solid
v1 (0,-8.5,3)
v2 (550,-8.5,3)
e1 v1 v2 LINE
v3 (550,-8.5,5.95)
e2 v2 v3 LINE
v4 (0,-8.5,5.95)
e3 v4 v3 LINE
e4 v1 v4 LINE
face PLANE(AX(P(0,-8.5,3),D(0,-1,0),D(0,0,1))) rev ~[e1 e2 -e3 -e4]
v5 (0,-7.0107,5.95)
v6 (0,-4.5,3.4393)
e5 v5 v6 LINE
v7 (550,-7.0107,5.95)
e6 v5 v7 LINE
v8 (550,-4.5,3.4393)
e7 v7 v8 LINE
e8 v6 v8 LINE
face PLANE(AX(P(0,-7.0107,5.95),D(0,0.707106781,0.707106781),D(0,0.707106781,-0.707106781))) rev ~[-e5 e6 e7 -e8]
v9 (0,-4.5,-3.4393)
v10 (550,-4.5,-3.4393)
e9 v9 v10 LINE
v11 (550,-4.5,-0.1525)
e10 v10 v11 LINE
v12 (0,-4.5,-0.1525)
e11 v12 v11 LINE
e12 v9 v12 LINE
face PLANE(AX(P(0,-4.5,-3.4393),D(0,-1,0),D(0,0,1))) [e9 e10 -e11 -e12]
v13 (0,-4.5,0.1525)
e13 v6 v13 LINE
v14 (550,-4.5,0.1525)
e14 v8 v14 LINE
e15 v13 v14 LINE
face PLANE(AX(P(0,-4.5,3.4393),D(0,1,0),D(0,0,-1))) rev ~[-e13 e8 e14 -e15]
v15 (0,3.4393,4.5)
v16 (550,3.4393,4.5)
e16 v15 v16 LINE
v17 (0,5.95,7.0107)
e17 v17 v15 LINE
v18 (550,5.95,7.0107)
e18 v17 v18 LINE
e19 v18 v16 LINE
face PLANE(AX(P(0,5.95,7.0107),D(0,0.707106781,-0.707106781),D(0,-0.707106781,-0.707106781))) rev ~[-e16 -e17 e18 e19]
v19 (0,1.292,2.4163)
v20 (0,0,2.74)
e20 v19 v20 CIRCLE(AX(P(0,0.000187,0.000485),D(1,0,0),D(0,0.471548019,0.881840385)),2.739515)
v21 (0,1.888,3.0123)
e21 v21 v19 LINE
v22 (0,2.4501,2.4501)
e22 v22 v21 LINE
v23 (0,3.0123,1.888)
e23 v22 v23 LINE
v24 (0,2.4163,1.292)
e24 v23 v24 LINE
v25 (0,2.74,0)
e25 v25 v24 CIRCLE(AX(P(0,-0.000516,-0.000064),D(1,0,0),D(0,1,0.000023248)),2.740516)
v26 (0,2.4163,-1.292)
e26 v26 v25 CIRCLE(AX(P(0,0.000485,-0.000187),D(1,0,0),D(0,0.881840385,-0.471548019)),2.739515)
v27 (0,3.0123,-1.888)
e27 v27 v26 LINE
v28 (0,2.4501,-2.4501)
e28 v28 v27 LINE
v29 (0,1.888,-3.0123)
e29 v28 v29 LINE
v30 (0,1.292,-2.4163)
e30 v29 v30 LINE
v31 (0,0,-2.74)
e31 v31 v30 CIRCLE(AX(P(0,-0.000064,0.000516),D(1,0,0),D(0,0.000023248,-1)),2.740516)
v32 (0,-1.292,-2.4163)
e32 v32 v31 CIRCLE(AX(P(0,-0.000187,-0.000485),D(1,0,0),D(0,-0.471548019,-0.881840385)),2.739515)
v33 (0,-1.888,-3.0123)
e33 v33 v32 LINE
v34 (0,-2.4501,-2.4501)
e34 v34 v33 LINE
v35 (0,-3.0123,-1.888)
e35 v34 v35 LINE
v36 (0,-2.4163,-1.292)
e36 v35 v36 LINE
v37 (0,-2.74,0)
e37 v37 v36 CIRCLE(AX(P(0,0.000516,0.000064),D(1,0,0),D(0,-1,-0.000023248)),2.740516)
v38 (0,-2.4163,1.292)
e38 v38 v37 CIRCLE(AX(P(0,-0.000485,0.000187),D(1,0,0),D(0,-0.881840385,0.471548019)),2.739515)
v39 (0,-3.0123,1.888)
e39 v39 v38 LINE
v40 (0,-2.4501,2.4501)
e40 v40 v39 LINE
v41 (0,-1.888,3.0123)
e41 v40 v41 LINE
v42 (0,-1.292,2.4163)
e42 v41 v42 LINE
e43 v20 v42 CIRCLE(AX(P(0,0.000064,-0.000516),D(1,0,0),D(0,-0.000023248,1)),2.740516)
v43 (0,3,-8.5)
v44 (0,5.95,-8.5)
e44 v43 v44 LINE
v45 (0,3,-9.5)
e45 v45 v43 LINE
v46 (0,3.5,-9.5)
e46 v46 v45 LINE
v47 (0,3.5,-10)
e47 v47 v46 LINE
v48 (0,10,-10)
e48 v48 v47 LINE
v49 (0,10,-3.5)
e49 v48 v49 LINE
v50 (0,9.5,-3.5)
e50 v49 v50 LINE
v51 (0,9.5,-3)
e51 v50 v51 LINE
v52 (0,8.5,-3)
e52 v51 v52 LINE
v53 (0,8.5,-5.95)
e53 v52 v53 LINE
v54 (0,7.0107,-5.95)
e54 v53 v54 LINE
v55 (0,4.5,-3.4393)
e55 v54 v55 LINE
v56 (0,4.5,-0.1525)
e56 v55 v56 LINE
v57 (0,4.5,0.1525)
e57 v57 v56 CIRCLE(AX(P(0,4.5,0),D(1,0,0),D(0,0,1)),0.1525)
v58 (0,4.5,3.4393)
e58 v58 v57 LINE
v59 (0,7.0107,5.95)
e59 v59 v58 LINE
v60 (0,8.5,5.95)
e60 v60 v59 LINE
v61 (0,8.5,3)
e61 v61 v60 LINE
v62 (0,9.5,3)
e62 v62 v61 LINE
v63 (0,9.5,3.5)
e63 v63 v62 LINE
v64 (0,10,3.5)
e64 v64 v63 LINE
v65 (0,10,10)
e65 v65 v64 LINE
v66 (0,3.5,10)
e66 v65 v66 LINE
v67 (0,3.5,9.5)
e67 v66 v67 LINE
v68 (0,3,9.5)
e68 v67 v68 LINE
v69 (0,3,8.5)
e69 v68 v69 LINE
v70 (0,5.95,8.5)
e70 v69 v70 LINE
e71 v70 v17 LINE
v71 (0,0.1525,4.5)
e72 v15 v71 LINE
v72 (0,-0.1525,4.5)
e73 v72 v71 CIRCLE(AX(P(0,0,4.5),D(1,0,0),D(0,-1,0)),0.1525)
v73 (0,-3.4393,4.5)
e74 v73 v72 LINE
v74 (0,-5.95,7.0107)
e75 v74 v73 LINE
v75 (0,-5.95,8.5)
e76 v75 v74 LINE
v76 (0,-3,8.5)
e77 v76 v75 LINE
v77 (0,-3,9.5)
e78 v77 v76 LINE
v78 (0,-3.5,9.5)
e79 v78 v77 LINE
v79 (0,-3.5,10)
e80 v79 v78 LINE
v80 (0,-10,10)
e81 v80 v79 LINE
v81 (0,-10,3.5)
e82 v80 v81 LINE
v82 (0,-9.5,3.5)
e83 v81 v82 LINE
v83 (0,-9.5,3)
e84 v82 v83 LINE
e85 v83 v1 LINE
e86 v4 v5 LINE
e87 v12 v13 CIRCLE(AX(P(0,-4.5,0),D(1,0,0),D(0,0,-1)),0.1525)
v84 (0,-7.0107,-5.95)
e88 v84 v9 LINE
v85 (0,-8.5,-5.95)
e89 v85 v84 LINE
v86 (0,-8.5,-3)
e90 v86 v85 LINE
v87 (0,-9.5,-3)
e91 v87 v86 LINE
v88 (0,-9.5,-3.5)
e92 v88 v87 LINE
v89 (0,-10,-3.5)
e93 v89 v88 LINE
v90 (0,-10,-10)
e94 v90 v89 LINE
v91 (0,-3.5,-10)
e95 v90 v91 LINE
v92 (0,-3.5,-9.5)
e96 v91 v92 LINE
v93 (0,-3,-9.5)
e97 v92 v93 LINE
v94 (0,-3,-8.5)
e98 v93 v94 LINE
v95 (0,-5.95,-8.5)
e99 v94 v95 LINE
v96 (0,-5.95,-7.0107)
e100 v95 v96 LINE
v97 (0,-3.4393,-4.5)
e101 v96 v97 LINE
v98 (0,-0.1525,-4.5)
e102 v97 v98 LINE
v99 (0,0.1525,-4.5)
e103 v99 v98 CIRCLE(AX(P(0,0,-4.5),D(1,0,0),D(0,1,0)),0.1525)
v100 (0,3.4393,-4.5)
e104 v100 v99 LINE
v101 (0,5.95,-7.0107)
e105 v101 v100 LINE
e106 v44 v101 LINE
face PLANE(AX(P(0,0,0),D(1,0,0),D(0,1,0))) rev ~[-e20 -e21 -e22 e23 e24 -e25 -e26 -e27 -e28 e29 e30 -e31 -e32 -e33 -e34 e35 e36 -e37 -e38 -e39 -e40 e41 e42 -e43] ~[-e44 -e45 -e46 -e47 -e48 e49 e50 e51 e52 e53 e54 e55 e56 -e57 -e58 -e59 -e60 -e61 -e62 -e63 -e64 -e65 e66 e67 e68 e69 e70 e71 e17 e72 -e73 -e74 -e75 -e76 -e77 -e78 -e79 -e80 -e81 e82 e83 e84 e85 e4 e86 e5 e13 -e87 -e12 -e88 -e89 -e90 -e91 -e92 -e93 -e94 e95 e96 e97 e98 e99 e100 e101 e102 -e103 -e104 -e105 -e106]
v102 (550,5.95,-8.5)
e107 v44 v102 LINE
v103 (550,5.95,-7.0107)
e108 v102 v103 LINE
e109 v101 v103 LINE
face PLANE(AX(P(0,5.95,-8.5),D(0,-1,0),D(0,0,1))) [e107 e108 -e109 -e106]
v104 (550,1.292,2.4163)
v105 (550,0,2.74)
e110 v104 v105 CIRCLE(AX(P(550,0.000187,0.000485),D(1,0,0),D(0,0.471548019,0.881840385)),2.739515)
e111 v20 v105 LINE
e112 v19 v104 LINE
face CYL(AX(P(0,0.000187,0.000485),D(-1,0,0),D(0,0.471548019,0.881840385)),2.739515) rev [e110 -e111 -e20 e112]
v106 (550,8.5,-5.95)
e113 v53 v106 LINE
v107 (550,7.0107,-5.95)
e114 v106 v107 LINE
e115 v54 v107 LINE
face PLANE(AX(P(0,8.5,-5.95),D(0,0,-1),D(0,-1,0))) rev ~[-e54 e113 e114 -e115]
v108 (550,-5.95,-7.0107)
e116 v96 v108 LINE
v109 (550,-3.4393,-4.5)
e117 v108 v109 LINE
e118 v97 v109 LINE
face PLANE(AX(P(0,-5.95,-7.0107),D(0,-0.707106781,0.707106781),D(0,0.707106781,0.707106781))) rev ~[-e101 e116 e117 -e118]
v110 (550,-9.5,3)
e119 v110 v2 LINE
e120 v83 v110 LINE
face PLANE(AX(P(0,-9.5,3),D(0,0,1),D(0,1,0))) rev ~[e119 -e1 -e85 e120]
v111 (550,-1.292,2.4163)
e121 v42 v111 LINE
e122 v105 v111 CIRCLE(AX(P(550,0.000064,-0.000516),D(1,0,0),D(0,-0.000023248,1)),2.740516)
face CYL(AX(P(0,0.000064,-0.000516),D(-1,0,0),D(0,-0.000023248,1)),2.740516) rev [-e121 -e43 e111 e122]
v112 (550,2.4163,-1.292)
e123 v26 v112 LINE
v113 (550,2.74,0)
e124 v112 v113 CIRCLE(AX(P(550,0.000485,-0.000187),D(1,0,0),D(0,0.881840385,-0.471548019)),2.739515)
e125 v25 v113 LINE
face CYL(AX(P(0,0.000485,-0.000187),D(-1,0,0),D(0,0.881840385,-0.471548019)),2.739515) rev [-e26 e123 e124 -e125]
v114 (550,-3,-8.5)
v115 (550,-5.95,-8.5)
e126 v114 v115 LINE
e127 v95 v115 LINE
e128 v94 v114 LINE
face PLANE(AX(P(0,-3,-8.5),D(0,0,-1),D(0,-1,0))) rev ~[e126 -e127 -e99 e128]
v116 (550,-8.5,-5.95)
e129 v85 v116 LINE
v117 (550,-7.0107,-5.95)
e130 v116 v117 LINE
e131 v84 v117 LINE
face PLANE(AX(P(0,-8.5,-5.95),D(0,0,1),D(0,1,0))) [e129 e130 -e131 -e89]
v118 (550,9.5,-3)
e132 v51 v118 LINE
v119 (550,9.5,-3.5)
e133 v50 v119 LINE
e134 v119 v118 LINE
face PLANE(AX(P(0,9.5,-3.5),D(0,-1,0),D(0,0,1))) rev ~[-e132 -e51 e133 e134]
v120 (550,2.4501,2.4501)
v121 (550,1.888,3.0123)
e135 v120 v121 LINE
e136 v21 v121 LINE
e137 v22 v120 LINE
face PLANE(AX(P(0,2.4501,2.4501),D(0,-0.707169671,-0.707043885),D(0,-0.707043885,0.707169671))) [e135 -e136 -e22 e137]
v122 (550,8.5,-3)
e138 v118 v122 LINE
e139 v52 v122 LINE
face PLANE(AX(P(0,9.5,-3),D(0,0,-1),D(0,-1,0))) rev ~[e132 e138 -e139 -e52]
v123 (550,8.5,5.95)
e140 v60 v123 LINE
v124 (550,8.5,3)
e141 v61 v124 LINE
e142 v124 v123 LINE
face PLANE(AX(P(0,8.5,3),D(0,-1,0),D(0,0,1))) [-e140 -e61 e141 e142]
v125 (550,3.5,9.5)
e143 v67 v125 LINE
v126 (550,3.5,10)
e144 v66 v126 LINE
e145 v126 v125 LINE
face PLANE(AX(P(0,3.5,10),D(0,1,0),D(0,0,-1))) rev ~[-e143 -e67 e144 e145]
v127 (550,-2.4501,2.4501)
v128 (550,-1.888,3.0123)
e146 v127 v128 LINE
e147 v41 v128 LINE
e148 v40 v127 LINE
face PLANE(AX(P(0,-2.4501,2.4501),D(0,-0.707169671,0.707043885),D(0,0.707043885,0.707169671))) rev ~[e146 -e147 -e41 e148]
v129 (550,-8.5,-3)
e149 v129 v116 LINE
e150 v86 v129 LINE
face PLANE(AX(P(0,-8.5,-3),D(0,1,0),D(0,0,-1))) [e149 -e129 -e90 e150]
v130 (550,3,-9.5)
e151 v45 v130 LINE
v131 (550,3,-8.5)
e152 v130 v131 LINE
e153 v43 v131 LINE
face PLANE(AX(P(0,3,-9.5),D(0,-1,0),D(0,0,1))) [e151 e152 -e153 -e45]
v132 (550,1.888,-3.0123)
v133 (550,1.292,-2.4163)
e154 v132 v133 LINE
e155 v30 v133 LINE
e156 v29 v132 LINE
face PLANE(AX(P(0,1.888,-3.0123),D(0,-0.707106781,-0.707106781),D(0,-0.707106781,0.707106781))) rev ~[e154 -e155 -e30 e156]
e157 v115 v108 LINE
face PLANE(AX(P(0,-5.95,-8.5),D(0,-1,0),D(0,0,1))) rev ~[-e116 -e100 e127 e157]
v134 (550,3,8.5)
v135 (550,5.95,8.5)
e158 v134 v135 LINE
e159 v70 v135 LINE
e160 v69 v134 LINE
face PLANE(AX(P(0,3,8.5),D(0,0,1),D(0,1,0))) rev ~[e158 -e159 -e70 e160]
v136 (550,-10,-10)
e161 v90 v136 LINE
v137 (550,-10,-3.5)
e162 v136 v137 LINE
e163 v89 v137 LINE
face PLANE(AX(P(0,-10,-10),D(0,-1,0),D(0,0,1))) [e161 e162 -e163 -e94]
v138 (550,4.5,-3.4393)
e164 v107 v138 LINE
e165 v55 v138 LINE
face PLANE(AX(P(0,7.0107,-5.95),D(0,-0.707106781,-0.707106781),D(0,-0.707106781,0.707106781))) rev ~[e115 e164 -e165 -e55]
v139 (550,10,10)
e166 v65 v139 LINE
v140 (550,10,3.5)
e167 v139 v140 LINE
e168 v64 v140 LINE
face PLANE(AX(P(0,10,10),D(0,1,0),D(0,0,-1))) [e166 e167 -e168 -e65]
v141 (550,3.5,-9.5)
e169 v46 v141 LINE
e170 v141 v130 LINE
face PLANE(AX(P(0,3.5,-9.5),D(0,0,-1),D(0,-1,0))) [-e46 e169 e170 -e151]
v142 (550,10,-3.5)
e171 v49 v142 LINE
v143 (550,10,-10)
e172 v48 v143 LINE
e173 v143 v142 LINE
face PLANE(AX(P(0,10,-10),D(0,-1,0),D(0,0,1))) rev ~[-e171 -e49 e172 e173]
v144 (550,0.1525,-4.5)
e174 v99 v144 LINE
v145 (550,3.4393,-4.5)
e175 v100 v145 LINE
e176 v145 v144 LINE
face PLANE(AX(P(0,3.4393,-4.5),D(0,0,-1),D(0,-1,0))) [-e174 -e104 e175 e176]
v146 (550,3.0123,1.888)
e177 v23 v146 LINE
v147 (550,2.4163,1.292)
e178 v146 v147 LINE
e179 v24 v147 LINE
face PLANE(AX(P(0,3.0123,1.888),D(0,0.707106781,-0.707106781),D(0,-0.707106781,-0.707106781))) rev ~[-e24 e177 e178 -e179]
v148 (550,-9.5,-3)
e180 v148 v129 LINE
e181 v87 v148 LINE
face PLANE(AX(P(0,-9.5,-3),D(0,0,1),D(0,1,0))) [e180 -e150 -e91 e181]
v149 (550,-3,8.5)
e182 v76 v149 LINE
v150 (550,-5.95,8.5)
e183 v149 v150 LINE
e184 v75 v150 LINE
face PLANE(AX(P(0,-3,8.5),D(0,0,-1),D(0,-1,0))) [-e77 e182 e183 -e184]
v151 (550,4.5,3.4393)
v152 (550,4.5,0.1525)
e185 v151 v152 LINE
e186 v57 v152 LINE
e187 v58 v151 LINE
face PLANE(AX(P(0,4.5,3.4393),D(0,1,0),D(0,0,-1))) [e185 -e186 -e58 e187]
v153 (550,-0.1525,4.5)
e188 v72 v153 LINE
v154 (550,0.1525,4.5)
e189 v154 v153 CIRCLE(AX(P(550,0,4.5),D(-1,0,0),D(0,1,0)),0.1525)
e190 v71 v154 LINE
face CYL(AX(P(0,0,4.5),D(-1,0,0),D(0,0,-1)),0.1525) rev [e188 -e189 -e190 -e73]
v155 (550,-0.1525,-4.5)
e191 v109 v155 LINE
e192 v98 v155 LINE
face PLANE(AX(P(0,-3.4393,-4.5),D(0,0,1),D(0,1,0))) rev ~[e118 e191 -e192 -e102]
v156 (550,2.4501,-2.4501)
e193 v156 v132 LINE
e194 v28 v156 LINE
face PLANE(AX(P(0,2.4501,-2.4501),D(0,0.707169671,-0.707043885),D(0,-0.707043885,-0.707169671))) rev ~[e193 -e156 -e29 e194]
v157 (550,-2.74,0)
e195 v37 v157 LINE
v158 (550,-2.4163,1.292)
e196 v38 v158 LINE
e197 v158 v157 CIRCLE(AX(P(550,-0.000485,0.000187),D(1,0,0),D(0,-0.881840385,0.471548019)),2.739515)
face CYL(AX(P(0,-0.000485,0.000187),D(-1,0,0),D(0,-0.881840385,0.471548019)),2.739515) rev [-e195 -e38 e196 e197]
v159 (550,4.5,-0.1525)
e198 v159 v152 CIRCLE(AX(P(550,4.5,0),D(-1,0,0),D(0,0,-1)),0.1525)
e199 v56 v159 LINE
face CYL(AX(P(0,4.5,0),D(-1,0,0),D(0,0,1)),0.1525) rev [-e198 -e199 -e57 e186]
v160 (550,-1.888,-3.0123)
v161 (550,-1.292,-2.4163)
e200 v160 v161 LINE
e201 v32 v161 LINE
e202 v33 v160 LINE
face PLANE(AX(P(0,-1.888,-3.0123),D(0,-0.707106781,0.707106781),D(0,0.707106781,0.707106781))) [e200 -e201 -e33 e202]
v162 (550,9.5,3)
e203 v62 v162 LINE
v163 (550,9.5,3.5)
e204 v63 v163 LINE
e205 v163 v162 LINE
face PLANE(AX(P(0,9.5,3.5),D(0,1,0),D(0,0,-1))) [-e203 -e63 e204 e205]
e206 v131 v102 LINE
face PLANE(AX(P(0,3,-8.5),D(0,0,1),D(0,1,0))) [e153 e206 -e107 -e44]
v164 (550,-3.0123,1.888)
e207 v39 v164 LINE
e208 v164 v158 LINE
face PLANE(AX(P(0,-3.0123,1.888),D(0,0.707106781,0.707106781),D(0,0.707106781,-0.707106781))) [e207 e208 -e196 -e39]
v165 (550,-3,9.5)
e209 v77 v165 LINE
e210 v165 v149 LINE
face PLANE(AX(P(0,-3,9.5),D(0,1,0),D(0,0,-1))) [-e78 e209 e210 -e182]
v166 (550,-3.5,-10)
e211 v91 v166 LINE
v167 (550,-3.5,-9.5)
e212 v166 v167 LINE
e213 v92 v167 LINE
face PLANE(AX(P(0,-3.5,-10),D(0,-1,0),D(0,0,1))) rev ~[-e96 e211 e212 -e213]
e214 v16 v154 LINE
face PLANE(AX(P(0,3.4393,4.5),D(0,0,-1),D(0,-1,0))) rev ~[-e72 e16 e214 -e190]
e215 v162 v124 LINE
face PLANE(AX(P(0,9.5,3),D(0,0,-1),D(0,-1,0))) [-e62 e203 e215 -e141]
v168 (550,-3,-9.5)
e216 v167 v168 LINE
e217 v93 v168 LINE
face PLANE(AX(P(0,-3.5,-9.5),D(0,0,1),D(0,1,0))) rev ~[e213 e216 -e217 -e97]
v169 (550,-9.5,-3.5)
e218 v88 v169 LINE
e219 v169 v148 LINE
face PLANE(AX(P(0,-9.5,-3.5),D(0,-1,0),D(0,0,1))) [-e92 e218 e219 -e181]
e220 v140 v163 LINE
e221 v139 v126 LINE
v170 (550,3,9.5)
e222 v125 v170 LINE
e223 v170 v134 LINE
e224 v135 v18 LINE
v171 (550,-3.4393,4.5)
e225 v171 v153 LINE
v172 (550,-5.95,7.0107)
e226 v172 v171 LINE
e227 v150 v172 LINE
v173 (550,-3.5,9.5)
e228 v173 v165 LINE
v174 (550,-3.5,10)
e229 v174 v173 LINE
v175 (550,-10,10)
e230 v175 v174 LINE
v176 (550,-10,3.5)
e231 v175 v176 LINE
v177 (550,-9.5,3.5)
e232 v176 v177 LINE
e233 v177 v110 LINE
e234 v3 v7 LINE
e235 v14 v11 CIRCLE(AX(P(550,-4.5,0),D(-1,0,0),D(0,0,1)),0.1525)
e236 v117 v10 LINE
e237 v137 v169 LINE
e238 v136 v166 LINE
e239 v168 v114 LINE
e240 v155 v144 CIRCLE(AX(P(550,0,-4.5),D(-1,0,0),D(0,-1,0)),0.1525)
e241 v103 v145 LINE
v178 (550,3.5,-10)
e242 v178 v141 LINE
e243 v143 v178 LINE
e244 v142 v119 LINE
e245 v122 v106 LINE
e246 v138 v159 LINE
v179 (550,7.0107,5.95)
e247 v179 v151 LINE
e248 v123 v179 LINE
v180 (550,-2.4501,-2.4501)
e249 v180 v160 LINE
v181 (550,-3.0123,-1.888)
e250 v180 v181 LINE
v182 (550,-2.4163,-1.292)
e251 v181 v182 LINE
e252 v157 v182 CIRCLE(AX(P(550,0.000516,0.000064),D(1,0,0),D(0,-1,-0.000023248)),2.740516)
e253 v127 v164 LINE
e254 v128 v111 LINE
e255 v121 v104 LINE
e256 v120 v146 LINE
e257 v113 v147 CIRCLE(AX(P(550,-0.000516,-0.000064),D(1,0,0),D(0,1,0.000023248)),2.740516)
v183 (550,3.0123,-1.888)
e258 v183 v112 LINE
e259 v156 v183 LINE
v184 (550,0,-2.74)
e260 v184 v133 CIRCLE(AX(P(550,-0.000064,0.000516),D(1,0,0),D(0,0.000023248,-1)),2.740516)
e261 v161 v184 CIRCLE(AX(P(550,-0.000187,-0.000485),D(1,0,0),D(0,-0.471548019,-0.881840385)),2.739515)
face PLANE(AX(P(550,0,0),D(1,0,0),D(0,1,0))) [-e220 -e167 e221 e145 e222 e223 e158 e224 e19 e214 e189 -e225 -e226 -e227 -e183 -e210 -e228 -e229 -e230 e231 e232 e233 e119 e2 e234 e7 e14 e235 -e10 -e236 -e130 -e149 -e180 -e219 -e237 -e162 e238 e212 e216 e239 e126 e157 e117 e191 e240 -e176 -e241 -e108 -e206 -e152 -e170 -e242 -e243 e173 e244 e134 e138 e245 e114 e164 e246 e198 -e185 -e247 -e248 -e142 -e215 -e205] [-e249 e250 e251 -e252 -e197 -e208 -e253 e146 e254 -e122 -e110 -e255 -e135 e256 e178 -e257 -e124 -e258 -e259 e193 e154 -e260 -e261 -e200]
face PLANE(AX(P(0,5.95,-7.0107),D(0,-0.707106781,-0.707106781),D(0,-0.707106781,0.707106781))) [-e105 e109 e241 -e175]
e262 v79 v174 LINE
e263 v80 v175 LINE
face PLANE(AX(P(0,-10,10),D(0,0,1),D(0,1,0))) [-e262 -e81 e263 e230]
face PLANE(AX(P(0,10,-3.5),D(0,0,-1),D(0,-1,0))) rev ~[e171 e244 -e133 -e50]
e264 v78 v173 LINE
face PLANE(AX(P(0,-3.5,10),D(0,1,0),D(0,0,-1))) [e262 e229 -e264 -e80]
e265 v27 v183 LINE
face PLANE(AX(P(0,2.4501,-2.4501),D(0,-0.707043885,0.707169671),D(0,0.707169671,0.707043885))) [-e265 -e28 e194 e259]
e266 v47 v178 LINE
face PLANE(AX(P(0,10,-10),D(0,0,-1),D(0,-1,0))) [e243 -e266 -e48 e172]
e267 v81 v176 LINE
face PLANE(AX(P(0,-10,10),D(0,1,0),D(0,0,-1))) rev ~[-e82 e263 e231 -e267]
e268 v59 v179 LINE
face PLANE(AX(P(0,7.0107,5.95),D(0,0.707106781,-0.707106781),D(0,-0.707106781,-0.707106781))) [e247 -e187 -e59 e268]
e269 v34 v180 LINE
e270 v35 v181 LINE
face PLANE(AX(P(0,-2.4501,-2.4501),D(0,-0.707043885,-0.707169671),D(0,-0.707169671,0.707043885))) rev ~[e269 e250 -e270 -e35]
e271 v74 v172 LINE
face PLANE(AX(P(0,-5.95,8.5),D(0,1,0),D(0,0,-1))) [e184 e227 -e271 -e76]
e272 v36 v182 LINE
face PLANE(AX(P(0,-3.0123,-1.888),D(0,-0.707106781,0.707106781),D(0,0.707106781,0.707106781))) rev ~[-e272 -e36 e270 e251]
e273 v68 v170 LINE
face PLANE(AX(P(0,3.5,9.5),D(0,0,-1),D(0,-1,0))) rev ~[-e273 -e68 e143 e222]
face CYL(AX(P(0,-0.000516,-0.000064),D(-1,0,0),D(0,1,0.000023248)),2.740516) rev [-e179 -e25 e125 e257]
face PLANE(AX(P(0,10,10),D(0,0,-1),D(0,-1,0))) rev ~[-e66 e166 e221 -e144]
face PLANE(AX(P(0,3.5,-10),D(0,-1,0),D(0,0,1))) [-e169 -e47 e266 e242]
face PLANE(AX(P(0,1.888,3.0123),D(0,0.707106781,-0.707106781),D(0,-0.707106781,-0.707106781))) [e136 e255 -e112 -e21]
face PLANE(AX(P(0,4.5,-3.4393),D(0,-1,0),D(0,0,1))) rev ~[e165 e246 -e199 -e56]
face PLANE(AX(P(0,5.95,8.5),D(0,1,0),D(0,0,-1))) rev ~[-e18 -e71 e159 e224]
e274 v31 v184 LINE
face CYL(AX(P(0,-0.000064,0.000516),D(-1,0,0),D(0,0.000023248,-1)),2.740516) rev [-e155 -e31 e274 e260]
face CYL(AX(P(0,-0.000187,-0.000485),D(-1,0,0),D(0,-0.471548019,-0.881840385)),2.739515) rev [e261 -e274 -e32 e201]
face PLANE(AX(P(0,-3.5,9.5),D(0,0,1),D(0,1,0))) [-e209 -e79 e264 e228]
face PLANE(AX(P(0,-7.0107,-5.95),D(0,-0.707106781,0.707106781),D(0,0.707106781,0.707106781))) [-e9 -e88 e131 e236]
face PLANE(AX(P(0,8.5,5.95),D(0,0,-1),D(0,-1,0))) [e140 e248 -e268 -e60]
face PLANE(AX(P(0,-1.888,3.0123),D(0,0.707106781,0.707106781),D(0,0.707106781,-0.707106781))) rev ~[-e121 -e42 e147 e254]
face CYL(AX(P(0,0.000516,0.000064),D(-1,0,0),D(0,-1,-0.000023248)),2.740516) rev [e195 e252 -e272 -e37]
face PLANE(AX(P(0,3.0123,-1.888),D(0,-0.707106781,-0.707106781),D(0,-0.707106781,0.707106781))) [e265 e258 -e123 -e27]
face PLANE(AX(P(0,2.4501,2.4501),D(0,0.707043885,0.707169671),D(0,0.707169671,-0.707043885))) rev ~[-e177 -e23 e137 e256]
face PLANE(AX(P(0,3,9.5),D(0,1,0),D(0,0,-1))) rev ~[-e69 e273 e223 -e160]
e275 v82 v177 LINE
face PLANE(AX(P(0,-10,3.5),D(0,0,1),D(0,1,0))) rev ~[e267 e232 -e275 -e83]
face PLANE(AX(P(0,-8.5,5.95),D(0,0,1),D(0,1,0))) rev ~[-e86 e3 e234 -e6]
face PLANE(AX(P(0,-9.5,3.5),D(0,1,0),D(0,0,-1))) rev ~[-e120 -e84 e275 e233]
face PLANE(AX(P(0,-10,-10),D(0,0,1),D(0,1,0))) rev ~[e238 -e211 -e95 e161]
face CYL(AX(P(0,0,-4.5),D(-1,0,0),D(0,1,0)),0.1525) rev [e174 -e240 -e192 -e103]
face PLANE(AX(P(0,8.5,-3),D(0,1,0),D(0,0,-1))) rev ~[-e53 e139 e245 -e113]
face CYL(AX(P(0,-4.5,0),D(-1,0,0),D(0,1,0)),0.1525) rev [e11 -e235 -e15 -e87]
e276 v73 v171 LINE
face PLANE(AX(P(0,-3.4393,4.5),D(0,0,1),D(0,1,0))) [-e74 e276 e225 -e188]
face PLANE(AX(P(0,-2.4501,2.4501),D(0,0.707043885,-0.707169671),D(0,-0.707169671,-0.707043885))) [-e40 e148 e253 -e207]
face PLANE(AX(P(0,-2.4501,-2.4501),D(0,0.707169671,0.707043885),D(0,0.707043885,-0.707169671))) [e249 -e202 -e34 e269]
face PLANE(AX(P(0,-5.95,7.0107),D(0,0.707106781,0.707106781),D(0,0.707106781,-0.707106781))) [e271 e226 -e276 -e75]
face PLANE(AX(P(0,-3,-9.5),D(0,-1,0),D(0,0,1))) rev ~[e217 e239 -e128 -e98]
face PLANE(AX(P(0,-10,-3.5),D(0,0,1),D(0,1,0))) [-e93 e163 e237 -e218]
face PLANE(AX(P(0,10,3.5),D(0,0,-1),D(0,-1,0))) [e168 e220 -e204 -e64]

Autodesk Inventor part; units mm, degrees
ref_plane "YZ Plane" through (0, 0, 0) normal (1, 0, 0) x (0, 1, 0)
ref_plane "XZ Plane" through (0, 0, 0) normal (0, 1, 0) x (-1, 0, 0)
ref_plane "XY Plane" through (0, 0, 0) normal (0, 0, 1) x (1, 0, 0)
sketch "Sketch1" plane through (0, 0, 0) normal (1, 0, 0) x (0, 1, 0)
  line L0 (-10, -10) -> (10, 10) construction
  line L1 (10, 10) -> (10, 3.5)
  line L2 (10, 3.5) -> (9.5, 3.5)
  line L3 (9.5, 3.5) -> (9.5, 3)
  line L4 (9.5, 3) -> (8.5, 3)
  line L5 (8.5, 3) -> (8.5, 5.95)
  line L6 (8.5, 5.95) -> (7.0107, 5.95)
  line L7 (7.0107, 5.95) -> (4.5, 3.4393)
  line L8 (4.5, 3.4393) -> (4.5, 0.1525)
  line L9 (2.4501, 2.4501) -> (3.0123, 1.888)
  line L10 (3.0123, 1.888) -> (2.4163, 1.292)
  arc A0 (2.74, 0) -> (2.4163, 1.292) centre (0, 0) ccw
  arc A1 (4.5, 0.1525) -> (4.3475, 0) centre (4.5, 0) ccw
  line L11 (10, 10) -> (2.4501, 2.4501)
  line L12 (4.3475, 0) -> (2.74, 0)
  line L13 (0, 0) -> (2.74, 0) construction
  line L14 (10, 10) -> (3.5, 10)
  line L15 (3.5, 10) -> (3.5, 9.5)
  line L16 (3.5, 9.5) -> (3, 9.5)
  line L17 (3, 9.5) -> (3, 8.5)
  line L18 (3, 8.5) -> (5.95, 8.5)
  line L19 (5.95, 8.5) -> (5.95, 7.0107)
  line L20 (5.95, 7.0107) -> (3.4393, 4.5)
  line L21 (3.4393, 4.5) -> (0.1525, 4.5)
  line L22 (2.4501, 2.4501) -> (1.888, 3.0123)
  line L23 (1.888, 3.0123) -> (1.292, 2.4163)
  arc A2 (1.292, 2.4163) -> (0, 2.74) centre (0, 0) ccw
  arc A3 (0, 4.3475) -> (0.1525, 4.5) centre (0, 4.5) ccw
  line L24 (0, 4.3475) -> (0, 2.74)
  line L25 (0, 0) -> (0, 2.74) construction
  line L26 (-8.5, 5.95) -> (-7.0107, 5.95)
  line L27 (-10, 3.5) -> (-9.5, 3.5)
  line L28 (-8.5, 3) -> (-8.5, 5.95)
  line L29 (-9.5, 3.5) -> (-9.5, 3)
  line L30 (-9.5, 3) -> (-8.5, 3)
  line L31 (-5.95, 8.5) -> (-5.95, 7.0107)
  line L32 (-7.0107, 5.95) -> (-4.5, 3.4393)
  line L33 (-5.95, 7.0107) -> (-3.4393, 4.5)
  line L34 (-10, 10) -> (-10, 3.5)
  line L35 (-10, 10) -> (-3.5, 10)
  line L36 (-10, 10) -> (-2.4501, 2.4501)
  line L37 (-3, 8.5) -> (-5.95, 8.5)
  line L38 (-3, 9.5) -> (-3, 8.5)
  line L39 (-3.5, 10) -> (-3.5, 9.5)
  line L40 (-3.5, 9.5) -> (-3, 9.5)
  line L41 (-3.4393, 4.5) -> (-0.1525, 4.5)
  line L42 (-2.4501, 2.4501) -> (-1.888, 3.0123)
  line L43 (-1.888, 3.0123) -> (-1.292, 2.4163)
  arc A4 (0, 2.74) -> (-1.292, 2.4163) centre (0, 0) ccw
  arc A5 (-0.1525, 4.5) -> (0, 4.3475) centre (0, 4.5) ccw
  line L44 (-2.4501, 2.4501) -> (-3.0123, 1.888)
  line L45 (-4.5, 3.4393) -> (-4.5, 0.1525)
  arc A6 (-4.3475, 0) -> (-4.5, 0.1525) centre (-4.5, 0) ccw
  line L46 (0, 4.3475) -> (0, 2.74)
  line L47 (-4.3475, 0) -> (-2.74, 0)
  arc A7 (-2.4163, 1.292) -> (-2.74, 0) centre (0, 0) ccw
  line L48 (0, 0) -> (0, 2.74) construction
  line L49 (-3.0123, 1.888) -> (-2.4163, 1.292)
  line L50 (-5.95, -8.5) -> (-5.95, -7.0107)
  line L51 (-3.5, -10) -> (-3.5, -9.5)
  line L52 (-3, -8.5) -> (-5.95, -8.5)
  line L53 (-3.5, -9.5) -> (-3, -9.5)
  line L54 (-3, -9.5) -> (-3, -8.5)
  line L55 (-8.5, -5.95) -> (-7.0107, -5.95)
  line L56 (-5.95, -7.0107) -> (-3.4393, -4.5)
  line L57 (-7.0107, -5.95) -> (-4.5, -3.4393)
  line L58 (-10, -10) -> (-3.5, -10)
  line L59 (-10, -10) -> (-10, -3.5)
  line L60 (-10, -10) -> (-2.4501, -2.4501)
  line L61 (-8.5, -3) -> (-8.5, -5.95)
  line L62 (-9.5, -3) -> (-8.5, -3)
  line L63 (-10, -3.5) -> (-9.5, -3.5)
  line L64 (-9.5, -3.5) -> (-9.5, -3)
  line L65 (-4.5, -3.4393) -> (-4.5, -0.1525)
  line L66 (-2.4501, -2.4501) -> (-3.0123, -1.888)
  line L67 (-3.0123, -1.888) -> (-2.4163, -1.292)
  arc A8 (-2.74, 0) -> (-2.4163, -1.292) centre (0, 0) ccw
  arc A9 (-4.5, -0.1525) -> (-4.3475, 0) centre (-4.5, 0) ccw
  line L68 (-2.4501, -2.4501) -> (-1.888, -3.0123)
  line L69 (-3.4393, -4.5) -> (-0.1525, -4.5)
  arc A10 (0, -4.3475) -> (-0.1525, -4.5) centre (0, -4.5) ccw
  line L70 (-4.3475, 0) -> (-2.74, 0)
  line L71 (0, -4.3475) -> (0, -2.74)
  arc A11 (-1.292, -2.4163) -> (0, -2.74) centre (0, 0) ccw
  line L72 (0, 0) -> (-2.74, 0) construction
  line L73 (-1.888, -3.0123) -> (-1.292, -2.4163)
  line L74 (8.5, -5.95) -> (7.0107, -5.95)
  line L75 (10, -3.5) -> (9.5, -3.5)
  line L76 (8.5, -3) -> (8.5, -5.95)
  line L77 (9.5, -3.5) -> (9.5, -3)
  line L78 (9.5, -3) -> (8.5, -3)
  line L79 (5.95, -8.5) -> (5.95, -7.0107)
  line L80 (7.0107, -5.95) -> (4.5, -3.4393)
  line L81 (5.95, -7.0107) -> (3.4393, -4.5)
  line L82 (10, -10) -> (10, -3.5)
  line L83 (10, -10) -> (3.5, -10)
  line L84 (10, -10) -> (2.4501, -2.4501)
  line L85 (3, -8.5) -> (5.95, -8.5)
  line L86 (3, -9.5) -> (3, -8.5)
  line L87 (3.5, -10) -> (3.5, -9.5)
  line L88 (3.5, -9.5) -> (3, -9.5)
  line L89 (3.4393, -4.5) -> (0.1525, -4.5)
  line L90 (2.4501, -2.4501) -> (1.888, -3.0123)
  line L91 (1.888, -3.0123) -> (1.292, -2.4163)
  arc A12 (0, -2.74) -> (1.292, -2.4163) centre (0, 0) ccw
  arc A13 (0.1525, -4.5) -> (0, -4.3475) centre (0, -4.5) ccw
  line L92 (2.4501, -2.4501) -> (3.0123, -1.888)
  line L93 (4.5, -3.4393) -> (4.5, -0.1525)
  arc A14 (4.3475, 0) -> (4.5, -0.1525) centre (4.5, 0) ccw
  line L94 (0, -4.3475) -> (0, -2.74)
  line L95 (4.3475, 0) -> (2.74, 0)
  arc A15 (2.4163, -1.292) -> (2.74, 0) centre (0, 0) ccw
  line L96 (0, 0) -> (0, -2.74) construction
  line L97 (3.0123, -1.888) -> (2.4163, -1.292)
  point P0 (9, 3)
  point P1 (3, 9)
  point P2 (-9, 3)
  point P3 (-3, 9)
  point P4 (-3, -9)
  point P5 (-9, -3)
  point P6 (9, -3)
  point P7 (3, -9)
  dimension "d2" = 6.5
  dimension "d3" = 0.5
  dimension "d4" = 4
  dimension "d5" = 3.465
  dimension "d6" = 5.48
  dimension "d7" = 0.795
  dimension "d8" = 0.305
  dimension "d9" = 2.95
  dimension "d11" = 0.75
  dimension "d14" = 45
  dimension "d15" = 10
  dimension "d16" = 1
  dimension "d17" = 3
  dimension "d18" = 45
  dimension "d21" = 360
extrude "Extrusion1" add sketch "Sketch1" along normal blind 550 contours L1 L2 L3 L4 L5 L6 L7 L8 A1 L12 A0 L10 L9 L11 | L11 L22 L23 A2 L24 A3 L21 L20 L19 L18 L17 L16 L15 L14 | L12 A14 L93 L80 L74 L76 L78 L77 L75 L82 L84 L92 L97 A15 | A4 L43 L42 L36 L35 L39 L40 L38 L37 L31 L33 L41 A5 L24 | L84 L83 L87 L88 L86 L85 L79 L81 L89 A13 L71 A12 L91 L90 | L44 L49 A7 L47 A6 L45 L32 L26 L28 L30 L29 L27 L34 L36 | L71 A10 L69 L56 L50 L52 L54 L53 L51 L58 L60 L68 L73 A11 | A8 L67 L66 L60 L59 L63 L64 L62 L61 L55 L57 L65 A9 L47
properties part number "20mm Extrusion 500mm" material "Aluminum 6061"
